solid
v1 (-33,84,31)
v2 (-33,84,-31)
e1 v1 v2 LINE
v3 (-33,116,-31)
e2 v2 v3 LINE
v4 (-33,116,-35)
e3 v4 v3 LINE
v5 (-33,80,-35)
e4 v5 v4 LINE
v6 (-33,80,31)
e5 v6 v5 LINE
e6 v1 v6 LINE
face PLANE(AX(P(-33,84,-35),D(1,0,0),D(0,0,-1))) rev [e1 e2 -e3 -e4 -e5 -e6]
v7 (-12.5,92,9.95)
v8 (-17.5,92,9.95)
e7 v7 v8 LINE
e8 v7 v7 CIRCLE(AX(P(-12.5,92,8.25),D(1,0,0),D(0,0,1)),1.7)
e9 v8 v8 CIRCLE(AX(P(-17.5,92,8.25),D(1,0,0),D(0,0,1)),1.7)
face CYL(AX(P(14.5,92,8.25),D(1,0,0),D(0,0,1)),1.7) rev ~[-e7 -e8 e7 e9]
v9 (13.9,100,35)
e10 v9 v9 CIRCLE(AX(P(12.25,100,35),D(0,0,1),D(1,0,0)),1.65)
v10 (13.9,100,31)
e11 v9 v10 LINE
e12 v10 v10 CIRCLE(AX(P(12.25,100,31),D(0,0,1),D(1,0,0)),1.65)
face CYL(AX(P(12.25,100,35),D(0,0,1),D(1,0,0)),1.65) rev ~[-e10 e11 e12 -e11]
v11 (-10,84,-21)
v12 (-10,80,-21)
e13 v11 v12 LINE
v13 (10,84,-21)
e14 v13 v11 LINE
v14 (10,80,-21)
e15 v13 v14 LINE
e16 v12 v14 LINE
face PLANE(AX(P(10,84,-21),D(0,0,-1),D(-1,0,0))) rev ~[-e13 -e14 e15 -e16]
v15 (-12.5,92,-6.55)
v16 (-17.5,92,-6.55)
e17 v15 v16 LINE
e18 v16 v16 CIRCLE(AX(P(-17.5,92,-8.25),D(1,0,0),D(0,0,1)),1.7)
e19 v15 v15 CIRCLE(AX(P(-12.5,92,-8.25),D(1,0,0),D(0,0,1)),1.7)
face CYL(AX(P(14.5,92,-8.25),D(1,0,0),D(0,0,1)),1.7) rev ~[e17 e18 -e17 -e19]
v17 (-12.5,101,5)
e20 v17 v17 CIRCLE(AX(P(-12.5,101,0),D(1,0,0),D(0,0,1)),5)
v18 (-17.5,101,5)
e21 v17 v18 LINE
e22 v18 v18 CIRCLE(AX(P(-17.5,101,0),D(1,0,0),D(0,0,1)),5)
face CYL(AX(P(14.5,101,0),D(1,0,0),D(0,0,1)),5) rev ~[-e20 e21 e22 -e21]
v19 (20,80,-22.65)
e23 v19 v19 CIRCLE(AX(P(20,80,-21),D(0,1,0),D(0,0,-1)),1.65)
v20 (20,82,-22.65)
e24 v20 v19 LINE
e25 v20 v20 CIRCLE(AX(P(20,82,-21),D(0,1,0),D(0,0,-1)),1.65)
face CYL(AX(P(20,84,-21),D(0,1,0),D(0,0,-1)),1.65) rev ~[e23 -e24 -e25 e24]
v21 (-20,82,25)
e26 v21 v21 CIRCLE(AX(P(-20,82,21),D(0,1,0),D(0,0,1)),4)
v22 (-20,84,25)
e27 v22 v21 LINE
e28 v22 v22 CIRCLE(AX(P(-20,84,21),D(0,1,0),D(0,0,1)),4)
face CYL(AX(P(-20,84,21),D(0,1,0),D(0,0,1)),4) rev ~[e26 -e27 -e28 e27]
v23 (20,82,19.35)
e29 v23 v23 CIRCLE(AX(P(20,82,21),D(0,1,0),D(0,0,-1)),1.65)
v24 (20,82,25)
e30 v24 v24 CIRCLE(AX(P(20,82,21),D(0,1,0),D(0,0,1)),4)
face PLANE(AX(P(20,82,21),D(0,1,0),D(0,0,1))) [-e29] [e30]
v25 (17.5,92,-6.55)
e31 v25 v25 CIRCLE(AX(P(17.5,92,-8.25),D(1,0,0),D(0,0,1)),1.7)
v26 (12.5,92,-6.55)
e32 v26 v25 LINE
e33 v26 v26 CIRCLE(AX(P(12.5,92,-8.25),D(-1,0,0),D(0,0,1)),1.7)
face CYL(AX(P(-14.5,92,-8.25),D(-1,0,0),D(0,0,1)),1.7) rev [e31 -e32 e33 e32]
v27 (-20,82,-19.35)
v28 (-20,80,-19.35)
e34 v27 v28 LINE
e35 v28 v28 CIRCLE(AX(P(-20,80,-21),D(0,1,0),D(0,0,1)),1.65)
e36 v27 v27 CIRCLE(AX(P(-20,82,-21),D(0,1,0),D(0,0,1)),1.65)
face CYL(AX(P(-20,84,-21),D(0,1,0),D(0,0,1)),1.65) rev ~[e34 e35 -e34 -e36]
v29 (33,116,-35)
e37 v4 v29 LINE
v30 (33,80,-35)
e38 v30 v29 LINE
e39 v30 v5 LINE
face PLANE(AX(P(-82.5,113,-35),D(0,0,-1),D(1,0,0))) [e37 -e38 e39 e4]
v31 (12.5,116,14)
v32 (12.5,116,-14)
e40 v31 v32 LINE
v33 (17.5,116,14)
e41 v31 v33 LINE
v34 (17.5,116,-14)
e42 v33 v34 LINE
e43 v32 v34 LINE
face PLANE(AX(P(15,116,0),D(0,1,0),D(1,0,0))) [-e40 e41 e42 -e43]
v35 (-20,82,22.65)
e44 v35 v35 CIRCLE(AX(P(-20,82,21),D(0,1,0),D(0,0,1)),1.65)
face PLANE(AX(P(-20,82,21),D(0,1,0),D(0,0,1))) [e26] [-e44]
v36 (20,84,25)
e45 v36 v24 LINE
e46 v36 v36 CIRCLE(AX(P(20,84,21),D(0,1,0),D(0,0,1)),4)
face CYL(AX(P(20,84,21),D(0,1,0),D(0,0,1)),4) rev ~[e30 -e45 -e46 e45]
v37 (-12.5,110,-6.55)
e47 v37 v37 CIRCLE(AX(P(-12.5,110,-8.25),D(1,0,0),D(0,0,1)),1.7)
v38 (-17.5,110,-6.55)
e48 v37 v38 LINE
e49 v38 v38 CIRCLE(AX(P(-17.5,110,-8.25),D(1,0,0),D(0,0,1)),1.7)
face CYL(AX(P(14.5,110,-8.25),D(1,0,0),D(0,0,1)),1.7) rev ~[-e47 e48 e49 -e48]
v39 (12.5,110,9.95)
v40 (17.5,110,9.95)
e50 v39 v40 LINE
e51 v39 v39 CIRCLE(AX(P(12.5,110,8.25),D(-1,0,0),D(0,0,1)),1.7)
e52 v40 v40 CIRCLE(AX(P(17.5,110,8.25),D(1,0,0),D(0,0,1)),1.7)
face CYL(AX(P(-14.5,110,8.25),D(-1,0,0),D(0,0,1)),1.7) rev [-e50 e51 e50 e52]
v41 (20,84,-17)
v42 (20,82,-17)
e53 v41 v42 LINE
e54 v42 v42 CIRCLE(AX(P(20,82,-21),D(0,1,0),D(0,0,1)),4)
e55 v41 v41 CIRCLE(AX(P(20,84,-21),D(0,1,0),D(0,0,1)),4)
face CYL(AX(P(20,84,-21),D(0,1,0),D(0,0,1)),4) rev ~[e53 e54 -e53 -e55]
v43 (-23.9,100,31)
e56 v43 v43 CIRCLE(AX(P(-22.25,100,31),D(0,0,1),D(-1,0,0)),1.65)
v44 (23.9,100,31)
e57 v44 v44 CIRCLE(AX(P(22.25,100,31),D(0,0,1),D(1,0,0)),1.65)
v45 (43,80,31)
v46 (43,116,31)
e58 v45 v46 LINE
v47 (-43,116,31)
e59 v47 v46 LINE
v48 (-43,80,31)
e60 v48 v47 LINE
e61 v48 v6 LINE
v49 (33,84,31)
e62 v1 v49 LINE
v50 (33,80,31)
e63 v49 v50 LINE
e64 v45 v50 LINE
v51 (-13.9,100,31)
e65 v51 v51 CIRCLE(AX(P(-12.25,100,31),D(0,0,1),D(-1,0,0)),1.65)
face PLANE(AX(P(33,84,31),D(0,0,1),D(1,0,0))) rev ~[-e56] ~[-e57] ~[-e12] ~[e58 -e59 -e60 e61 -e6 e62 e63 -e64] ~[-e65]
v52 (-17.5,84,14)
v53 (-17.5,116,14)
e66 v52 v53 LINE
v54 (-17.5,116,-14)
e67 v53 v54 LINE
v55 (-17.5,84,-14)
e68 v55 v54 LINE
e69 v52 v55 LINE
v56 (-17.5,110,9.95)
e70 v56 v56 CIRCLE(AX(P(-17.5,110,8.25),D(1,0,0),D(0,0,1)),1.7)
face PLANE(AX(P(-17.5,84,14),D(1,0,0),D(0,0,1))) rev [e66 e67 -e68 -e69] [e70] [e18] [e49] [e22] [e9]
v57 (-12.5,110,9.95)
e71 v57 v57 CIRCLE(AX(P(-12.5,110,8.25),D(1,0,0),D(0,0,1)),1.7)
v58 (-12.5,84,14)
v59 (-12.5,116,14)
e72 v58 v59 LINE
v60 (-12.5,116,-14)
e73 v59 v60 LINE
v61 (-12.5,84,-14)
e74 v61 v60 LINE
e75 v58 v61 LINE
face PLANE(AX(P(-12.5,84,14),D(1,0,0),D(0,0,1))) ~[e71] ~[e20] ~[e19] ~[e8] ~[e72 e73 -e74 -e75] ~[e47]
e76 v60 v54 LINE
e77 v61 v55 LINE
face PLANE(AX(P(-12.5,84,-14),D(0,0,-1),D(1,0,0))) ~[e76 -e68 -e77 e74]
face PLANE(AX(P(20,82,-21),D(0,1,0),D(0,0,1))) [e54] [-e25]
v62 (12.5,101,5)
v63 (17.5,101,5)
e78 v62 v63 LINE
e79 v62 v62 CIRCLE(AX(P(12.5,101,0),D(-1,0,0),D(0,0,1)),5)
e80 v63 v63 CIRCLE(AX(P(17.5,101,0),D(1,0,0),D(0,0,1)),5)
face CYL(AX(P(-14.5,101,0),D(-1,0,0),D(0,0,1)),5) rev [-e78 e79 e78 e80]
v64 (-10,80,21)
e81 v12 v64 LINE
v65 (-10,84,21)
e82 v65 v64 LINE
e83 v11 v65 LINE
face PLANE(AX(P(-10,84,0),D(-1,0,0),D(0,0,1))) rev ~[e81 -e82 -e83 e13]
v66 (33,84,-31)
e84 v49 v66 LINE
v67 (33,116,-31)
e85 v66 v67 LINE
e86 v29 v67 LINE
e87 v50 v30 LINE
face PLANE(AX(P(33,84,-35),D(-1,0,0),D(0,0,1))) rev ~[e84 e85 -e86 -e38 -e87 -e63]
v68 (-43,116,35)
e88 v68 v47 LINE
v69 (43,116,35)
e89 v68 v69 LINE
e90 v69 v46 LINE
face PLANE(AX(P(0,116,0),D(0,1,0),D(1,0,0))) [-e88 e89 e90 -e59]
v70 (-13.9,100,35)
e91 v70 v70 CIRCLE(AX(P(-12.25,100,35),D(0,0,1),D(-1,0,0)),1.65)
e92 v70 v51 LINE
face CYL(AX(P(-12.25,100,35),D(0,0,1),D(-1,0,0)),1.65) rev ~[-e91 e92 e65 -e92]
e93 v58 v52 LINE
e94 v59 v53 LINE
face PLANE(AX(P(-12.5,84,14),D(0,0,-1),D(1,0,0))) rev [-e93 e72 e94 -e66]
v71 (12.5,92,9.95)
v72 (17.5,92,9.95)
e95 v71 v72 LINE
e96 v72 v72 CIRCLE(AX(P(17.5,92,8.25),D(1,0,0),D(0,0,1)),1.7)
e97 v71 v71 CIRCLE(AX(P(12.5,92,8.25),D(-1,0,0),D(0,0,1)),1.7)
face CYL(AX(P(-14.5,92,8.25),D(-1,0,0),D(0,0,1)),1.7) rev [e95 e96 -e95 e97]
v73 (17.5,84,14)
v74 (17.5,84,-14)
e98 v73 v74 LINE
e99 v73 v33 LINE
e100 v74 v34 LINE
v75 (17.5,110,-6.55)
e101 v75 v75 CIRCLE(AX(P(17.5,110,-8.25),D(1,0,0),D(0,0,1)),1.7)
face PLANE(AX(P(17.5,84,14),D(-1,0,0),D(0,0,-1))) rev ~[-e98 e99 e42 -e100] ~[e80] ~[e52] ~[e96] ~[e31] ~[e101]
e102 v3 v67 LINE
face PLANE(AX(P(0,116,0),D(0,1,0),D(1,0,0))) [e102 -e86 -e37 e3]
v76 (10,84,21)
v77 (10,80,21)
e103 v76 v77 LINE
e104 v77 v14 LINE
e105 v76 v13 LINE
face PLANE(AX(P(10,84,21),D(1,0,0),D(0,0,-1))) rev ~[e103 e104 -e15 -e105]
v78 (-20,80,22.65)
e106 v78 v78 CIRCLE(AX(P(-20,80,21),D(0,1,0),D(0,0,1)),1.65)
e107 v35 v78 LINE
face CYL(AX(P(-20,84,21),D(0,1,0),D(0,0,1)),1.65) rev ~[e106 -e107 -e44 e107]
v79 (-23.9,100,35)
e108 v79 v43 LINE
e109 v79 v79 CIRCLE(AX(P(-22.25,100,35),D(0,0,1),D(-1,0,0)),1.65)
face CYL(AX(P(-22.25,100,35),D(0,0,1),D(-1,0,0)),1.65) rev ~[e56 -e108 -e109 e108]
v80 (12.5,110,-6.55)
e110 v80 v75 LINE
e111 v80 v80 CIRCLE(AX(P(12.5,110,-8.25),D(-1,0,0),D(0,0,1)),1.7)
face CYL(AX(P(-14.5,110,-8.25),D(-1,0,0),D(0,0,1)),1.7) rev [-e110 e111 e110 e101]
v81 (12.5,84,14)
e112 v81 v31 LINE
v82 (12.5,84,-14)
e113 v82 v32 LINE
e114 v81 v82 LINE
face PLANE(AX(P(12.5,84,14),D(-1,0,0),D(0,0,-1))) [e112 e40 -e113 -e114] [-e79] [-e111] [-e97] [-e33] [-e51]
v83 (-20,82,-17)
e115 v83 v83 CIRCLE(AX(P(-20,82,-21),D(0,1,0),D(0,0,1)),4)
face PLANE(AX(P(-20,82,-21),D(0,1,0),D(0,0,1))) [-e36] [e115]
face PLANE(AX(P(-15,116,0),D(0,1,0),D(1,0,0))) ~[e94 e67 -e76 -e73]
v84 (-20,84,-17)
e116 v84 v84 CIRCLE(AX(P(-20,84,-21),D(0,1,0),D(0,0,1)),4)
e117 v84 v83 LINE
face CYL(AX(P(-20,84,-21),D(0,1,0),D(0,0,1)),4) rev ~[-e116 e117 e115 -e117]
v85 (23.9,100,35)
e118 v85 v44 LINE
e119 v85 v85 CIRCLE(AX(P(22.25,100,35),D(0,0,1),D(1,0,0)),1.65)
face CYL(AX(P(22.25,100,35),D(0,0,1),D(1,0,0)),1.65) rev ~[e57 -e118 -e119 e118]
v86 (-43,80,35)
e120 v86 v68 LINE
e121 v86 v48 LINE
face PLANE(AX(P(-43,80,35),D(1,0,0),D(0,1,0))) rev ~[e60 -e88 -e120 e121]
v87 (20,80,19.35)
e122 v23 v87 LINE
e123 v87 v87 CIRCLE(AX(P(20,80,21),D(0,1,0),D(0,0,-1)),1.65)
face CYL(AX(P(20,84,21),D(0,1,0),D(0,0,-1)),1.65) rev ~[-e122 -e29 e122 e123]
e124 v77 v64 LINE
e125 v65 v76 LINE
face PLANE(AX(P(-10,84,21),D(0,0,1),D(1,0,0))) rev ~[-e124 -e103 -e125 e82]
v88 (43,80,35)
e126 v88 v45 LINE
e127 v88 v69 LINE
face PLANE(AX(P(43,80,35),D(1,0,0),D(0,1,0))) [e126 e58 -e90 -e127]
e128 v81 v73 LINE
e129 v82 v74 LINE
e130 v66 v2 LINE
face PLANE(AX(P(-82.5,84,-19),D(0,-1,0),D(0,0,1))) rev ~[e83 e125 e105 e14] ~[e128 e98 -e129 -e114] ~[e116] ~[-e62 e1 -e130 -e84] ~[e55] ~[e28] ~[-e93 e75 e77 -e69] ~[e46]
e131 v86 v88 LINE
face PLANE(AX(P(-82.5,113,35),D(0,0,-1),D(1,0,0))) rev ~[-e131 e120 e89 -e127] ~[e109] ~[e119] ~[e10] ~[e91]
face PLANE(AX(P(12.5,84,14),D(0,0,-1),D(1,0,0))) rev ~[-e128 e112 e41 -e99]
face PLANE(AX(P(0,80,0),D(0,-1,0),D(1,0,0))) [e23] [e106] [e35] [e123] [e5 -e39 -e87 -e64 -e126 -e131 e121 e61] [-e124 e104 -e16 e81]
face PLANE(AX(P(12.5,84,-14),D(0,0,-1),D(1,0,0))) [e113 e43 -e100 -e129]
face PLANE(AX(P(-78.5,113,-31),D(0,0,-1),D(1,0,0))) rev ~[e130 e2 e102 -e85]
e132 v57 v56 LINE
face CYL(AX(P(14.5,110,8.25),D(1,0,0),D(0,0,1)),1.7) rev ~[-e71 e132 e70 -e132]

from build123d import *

# Parameters (mm, degrees)
SKETCH1_W                 = 75
SKETCH1_H                 = 40
SKETCH1_R                 = 5
SKETCH1_R_2               = 1.7
SKETCH1_W_2               = 10
SKETCH1_H_2               = 20
BOSS_EXTRUDE1_DEPTH       = 3
CUT_EXTRUDE1_DEPTH        = 43.605750786
CUT_EXTRUDE1_DEPTH_BACK   = 43.605750786
SKETCH2_W                 = 67
SKETCH2_H                 = 28
BOSS_EXTRUDE3_DEPTH       = 110
BOSS_EXTRUDE3_DEPTH_BACK  = 3
SKETCH6_W                 = 67
SKETCH6_H                 = 11
CUT_EXTRUDE4_DEPTH        = 122.372360939
SKETCH7_W                 = 70
SKETCH7_H                 = 37
BOSS_EXTRUDE4_DEPTH       = 45
SKETCH8_W                 = 45
SKETCH8_H                 = 62
CUT_EXTRUDE6_DEPTH        = 29
SKETCH11_W                = 45
SKETCH11_H                = 4
CUT_EXTRUDE9_DEPTH        = 157.445677473
SKETCH9_W                 = 38
SKETCH9_H                 = 28.5
CUT_EXTRUDE10_DEPTH       = 204.024629048
SKETCH13_W                = 5
SKETCH13_H                = 38
BOSS_EXTRUDE5_DEPTH       = 32
SKETCH14_R                = 5
SKETCH14_R_2              = 1.7
CUT_EXTRUDE11_DEPTH       = 32
SKETCH15_W                = 165
SKETCH15_H                = 70
SKETCH15_W_2              = 157
SKETCH15_H_2              = 62
BOSS_EXTRUDE6_DEPTH       = 3
SKETCH16_W                = 20
SKETCH16_H                = 4.820648258
CUT_EXTRUDE12_DEPTH       = 159.626132778
SKETCH18_R                = 1.65
CUT_EXTRUDE14_DEPTH       = 159.626132778
MIRROR6_COPY_1_SKETCH_W   = 5
MIRROR6_COPY_1_SKETCH_H   = 38
MIRROR6_COPY_1_DEPTH      = 32
MIRROR6_COPY_2_SKETCH_R   = 5
MIRROR6_COPY_2_SKETCH_R_2 = 1.7
MIRROR6_COPY_2_DEPTH      = 32
SKETCH19_W                = 38
SKETCH19_H                = 3.5
CUT_EXTRUDE15_DEPTH       = 10
SKETCH20_R                = 1.2
CUT_EXTRUDE16_DEPTH       = 10
SKETCH21_W                = 10
SKETCH21_H                = 80
CUT_EXTRUDE17_DEPTH       = 184.330984833
SKETCH22_W                = 55
SKETCH22_H                = 80
CUT_EXTRUDE18_DEPTH       = 184.330984833
SKETCH23_W                = 67
SKETCH23_H                = 62
BOSS_EXTRUDE7_DEPTH       = 4
SKETCH24_R                = 10
SKETCH24_R_2              = 1.65
CUT_EXTRUDE19_DEPTH       = 111.123793978
CUT_EXTRUDE21_START       = -16
SKETCH25_R                = 1.65
CUT_EXTRUDE21_DEPTH       = 16
SKETCH26_W                = 14.5
SKETCH26_H                = 36
CUT_EXTRUDE22_DEPTH       = 178.837706913
SKETCH27_W                = 5
SKETCH27_H                = 64
CUT_EXTRUDE23_DEPTH       = 43
CUT_EXTRUDE24_DEPTH       = 100.724620832
SKETCH29_R                = 4
SKETCH29_R_2              = 1.65
CUT_EXTRUDE25_DEPTH       = 2
SKETCH30_W                = 5
SKETCH30_H                = 28
BOSS_EXTRUDE8_DEPTH       = 32
CUT_EXTRUDE26_START       = -32
SKETCH32_R                = 5
SKETCH32_R_2              = 1.7
CUT_EXTRUDE26_DEPTH       = 32
CUT_EXTRUDE27_DEPTH       = 32
SKETCH36_R                = 1.65
CUT_EXTRUDE28_DEPTH       = 10
SKETCH37_W                = 6.586786374
SKETCH37_H                = 6.17536381
BOSS_EXTRUDE9_DEPTH       = 4
SKETCH38_W                = 25
SKETCH38_H                = 36
CUT_EXTRUDE29_DEPTH       = 10


with BuildPart() as part:
    # Sketch1 → Boss-Extrude1 (new body)
    with BuildSketch(Plane(origin=(0, 0, 0), x_dir=(1, 0, 0), z_dir=(0, 1, 0))):
        Rectangle(SKETCH1_W, SKETCH1_H)
        with Locations(Location((-21, 0, 0), (0, 0, 270))):
            Circle(SKETCH1_R, mode=Mode.SUBTRACT)
        with Locations(Location((-30, 8.25, 0), (0, 0, 270))):
            Circle(SKETCH1_R_2, mode=Mode.SUBTRACT)
        with Locations(Location((-12, 8.25, 0), (0, 0, 270))):
            Circle(SKETCH1_R_2, mode=Mode.SUBTRACT)
        with Locations(Location((-12, -8.25, 0), (0, 0, 270))):
            Circle(SKETCH1_R_2, mode=Mode.SUBTRACT)
        with Locations(Location((-30, -8.25, 0), (0, 0, 270))):
            Circle(SKETCH1_R_2, mode=Mode.SUBTRACT)
        with Locations(Location((12, 8.25, 0), (0, 0, 90))):
            Circle(SKETCH1_R_2, mode=Mode.SUBTRACT)
        with Locations(Location((12, -8.25, 0), (0, 0, 90))):
            Circle(SKETCH1_R_2, mode=Mode.SUBTRACT)
        with Locations(Location((21, 0, 0), (0, 0, 90))):
            Circle(SKETCH1_R, mode=Mode.SUBTRACT)
        with Locations(Location((30, -8.25, 0), (0, 0, 90))):
            Circle(SKETCH1_R_2, mode=Mode.SUBTRACT)
        with Locations(Location((30, 8.25, 0), (0, 0, 90))):
            Circle(SKETCH1_R_2, mode=Mode.SUBTRACT)
        Rectangle(SKETCH1_W_2, SKETCH1_H_2, mode=Mode.SUBTRACT)
    extrude(amount=BOSS_EXTRUDE1_DEPTH)

    # Sketch2 → Cut-Extrude1 (cut, two sides: drawn at the far end of the back side and taken through both)
    with BuildSketch(Plane(origin=(0, 3, 0), x_dir=(1, 0, 0), z_dir=(0, 1, 0)).offset(-CUT_EXTRUDE1_DEPTH_BACK)):
        Rectangle(SKETCH2_W, SKETCH2_H)
    extrude(amount=CUT_EXTRUDE1_DEPTH + CUT_EXTRUDE1_DEPTH_BACK, mode=Mode.SUBTRACT)

    # Sketch3 → Boss-Extrude3 (add, two sides: drawn at the far end of the back side and taken through both)
    with BuildSketch(Plane(origin=(0, 3, 0), x_dir=(1, 0, 0), z_dir=(0, 1, 0)).offset(-BOSS_EXTRUDE3_DEPTH_BACK)):
        Polygon((37.5, -35), (37.5, -20), (33.5, -20), (-33.5, -20), (-37.5, -20), (-37.5, -35), align=None)
        Polygon((33.5, 20), (37.5, 20), (37.5, 35), (-37.5, 35), (-37.5, 20), (-33.5, 20), align=None)
        Polygon((37.5, -20), (37.5, 20), (33.5, 20), (33.5, 14), (33.5, -14), (33.5, -20), align=None)
        Polygon((-33.5, 14), (-33.5, 20), (-37.5, 20), (-37.5, -20), (-33.5, -20), (-33.5, -14), align=None)
    extrude(amount=BOSS_EXTRUDE3_DEPTH + BOSS_EXTRUDE3_DEPTH_BACK)

    # Sketch6 → Cut-Extrude4 (cut, through all)
    with BuildSketch(Plane(origin=(0, 3, 0), x_dir=(1, 0, 0), z_dir=(0, 1, 0))):
        with Locations((0, -25.5)):
            Rectangle(SKETCH6_W, SKETCH6_H)
        with Locations((0, 25.5)):
            Rectangle(SKETCH6_W, SKETCH6_H)
    extrude(amount=CUT_EXTRUDE4_DEPTH, mode=Mode.SUBTRACT)

    # Sketch7 → Boss-Extrude4 (add)
    with BuildSketch(Plane.ZY.offset(37.5)):
        with Locations((0, 94.5)):
            Rectangle(SKETCH7_W, SKETCH7_H)
    boss_extrude4 = extrude(amount=BOSS_EXTRUDE4_DEPTH)

    # Mirror2: Boss-Extrude4 across plane
    add(boss_extrude4.mirror(Plane(origin=(0, 0, 0), x_dir=(0, 0, 1), z_dir=(1, 0, 0))))

    # Sketch8 → Cut-Extrude6 (cut)
    with BuildSketch(Plane(origin=(0, 113, 0), x_dir=(1, 0, 0), z_dir=(0, 1, 0))):
        with Locations((-56, 0)):
            Rectangle(SKETCH8_W, SKETCH8_H)
        with Locations((56, 0)):
            Rectangle(SKETCH8_W, SKETCH8_H)
    extrude(amount=-CUT_EXTRUDE6_DEPTH, mode=Mode.SUBTRACT)

    # Sketch11 → Cut-Extrude9 (cut, through all)
    with BuildSketch(Plane.XY.offset(35)):
        with Locations((-60, 78)):
            Rectangle(SKETCH11_W, SKETCH11_H)
        with Locations((60, 78)):
            Rectangle(SKETCH11_W, SKETCH11_H)
    extrude(amount=-CUT_EXTRUDE9_DEPTH, mode=Mode.SUBTRACT)

    # Sketch9 → Cut-Extrude10 (cut, through all)
    with BuildSketch(Plane.ZY.offset(82.5)):
        with Locations((0, 98.25)):
            Rectangle(SKETCH9_W, SKETCH9_H)
    extrude(amount=-CUT_EXTRUDE10_DEPTH, mode=Mode.SUBTRACT)

    # Sketch13 → Boss-Extrude5 (add)
    with BuildSketch(Plane(origin=(0, 84, 0), x_dir=(1, 0, 0), z_dir=(0, 1, 0))):
        with Locations((-39, 0)):
            Rectangle(SKETCH13_W, SKETCH13_H)
    boss_extrude5 = extrude(amount=BOSS_EXTRUDE5_DEPTH)

    # Sketch14 → Cut-Extrude11 (cut)
    with BuildSketch(Plane.ZY.offset(41.5)):
        with Locations((0, 101)):
            Circle(SKETCH14_R)
        with Locations((-8.25, 110)):
            Circle(SKETCH14_R_2)
        with Locations((8.25, 110)):
            Circle(SKETCH14_R_2)
        with Locations((8.25, 92)):
            Circle(SKETCH14_R_2)
        with Locations((-8.25, 92)):
            Circle(SKETCH14_R_2)
    cut_extrude11 = extrude(amount=-CUT_EXTRUDE11_DEPTH, mode=Mode.SUBTRACT)

    # Mirror4: Boss-Extrude5, Cut-Extrude11 across plane
    add(boss_extrude5.mirror(Plane(origin=(0, 0, 0), x_dir=(0, 0, 1), z_dir=(1, 0, 0))))
    add(cut_extrude11.mirror(Plane(origin=(0, 0, 0), x_dir=(0, 0, 1), z_dir=(1, 0, 0))), mode=Mode.SUBTRACT)

    # Sketch15 → Boss-Extrude6 (add)
    with BuildSketch(Plane(origin=(0, 113, 0), x_dir=(1, 0, 0), z_dir=(0, 1, 0))):
        Rectangle(SKETCH15_W, SKETCH15_H)
        Rectangle(SKETCH15_W_2, SKETCH15_H_2, mode=Mode.SUBTRACT)
    extrude(amount=BOSS_EXTRUDE6_DEPTH)

    # Sketch16 → Cut-Extrude12 (cut, through all)
    with BuildSketch(Plane.XY.offset(35)):
        with Locations((0, 11.636111214)):
            Rectangle(SKETCH16_W, SKETCH16_H)
    extrude(amount=-CUT_EXTRUDE12_DEPTH, mode=Mode.SUBTRACT)

    # Sketch18 → Cut-Extrude14 (cut, through all)
    with BuildSketch(Plane.XY.offset(35)):
        with Locations((52.25, 100)):
            Circle(SKETCH18_R)
    cut_extrude14 = extrude(amount=-CUT_EXTRUDE14_DEPTH, mode=Mode.SUBTRACT)

    # Mirror5: Cut-Extrude14 across plane
    add(cut_extrude14.mirror(Plane(origin=(0, 0, 0), x_dir=(0, 0, 1), z_dir=(1, 0, 0))), mode=Mode.SUBTRACT)

    # Mirror6: Boss-Extrude5, Cut-Extrude11 across plane
    add(boss_extrude5.mirror(Plane.ZX.offset(116)))
    add(cut_extrude11.mirror(Plane.ZX.offset(116)), mode=Mode.SUBTRACT)

    # Mirror6 copy 1 sketch → Mirror6 copy 1 (add)
    with BuildSketch(Plane(origin=(0, 148, 0), x_dir=(-1, 0, 0), z_dir=(0, -1, 0))):
        with Locations((-39, 0)):
            Rectangle(MIRROR6_COPY_1_SKETCH_W, MIRROR6_COPY_1_SKETCH_H)
    extrude(amount=MIRROR6_COPY_1_DEPTH)

    # Mirror6 copy 2 sketch → Mirror6 copy 2 (cut)
    with BuildSketch(Plane(origin=(41.5, 232, 0), x_dir=(0, 0, 1), z_dir=(1, 0, 0))):
        with Locations((0, 101)):
            Circle(MIRROR6_COPY_2_SKETCH_R)
        with Locations((-8.25, 110)):
            Circle(MIRROR6_COPY_2_SKETCH_R_2)
        with Locations((8.25, 110)):
            Circle(MIRROR6_COPY_2_SKETCH_R_2)
        with Locations((8.25, 92)):
            Circle(MIRROR6_COPY_2_SKETCH_R_2)
        with Locations((-8.25, 92)):
            Circle(MIRROR6_COPY_2_SKETCH_R_2)
    extrude(amount=-MIRROR6_COPY_2_DEPTH, mode=Mode.SUBTRACT)

    # Sketch19 → Cut-Extrude15 (cut)
    with BuildSketch(Plane(origin=(82.5, 0, 0), x_dir=(0, 0, -1), z_dir=(1, 0, 0))):
        with Locations((0, 114.25)):
            Rectangle(SKETCH19_W, SKETCH19_H)
    cut_extrude15 = extrude(amount=-CUT_EXTRUDE15_DEPTH, mode=Mode.SUBTRACT)

    # Mirror7: Cut-Extrude15 across plane
    add(cut_extrude15.mirror(Plane(origin=(0, 0, 0), x_dir=(0, 0, 1), z_dir=(1, 0, 0))), mode=Mode.SUBTRACT)

    # Sketch20 → Cut-Extrude16 (cut)
    with BuildSketch(Plane(origin=(0, 3, 0), x_dir=(1, 0, 0), z_dir=(0, 1, 0))):
        with Locations(Location((-24, 17.5, 0), (0, 0, 270))):
            Circle(SKETCH20_R)
        with Locations(Location((-12, 17.5, 0), (0, 0, 270))):
            Circle(SKETCH20_R)
        with Locations(Location((12, 17.5, 0), (0, 0, 270))):
            Circle(SKETCH20_R)
        with Locations(Location((-24, -17.5, 0), (0, 0, 270))):
            Circle(SKETCH20_R)
        with Locations(Location((-12, -17.5, 0), (0, 0, 270))):
            Circle(SKETCH20_R)
        with Locations(Location((24, 17.5, 0), (0, 0, 270))):
            Circle(SKETCH20_R)
        with Locations(Location((12, -17.5, 0), (0, 0, 270))):
            Circle(SKETCH20_R)
        with Locations(Location((24, -17.5, 0), (0, 0, 270))):
            Circle(SKETCH20_R)
    extrude(amount=-CUT_EXTRUDE16_DEPTH, mode=Mode.SUBTRACT)

    # Sketch21 → Cut-Extrude17 (cut, through all)
    with BuildSketch(Plane.XY.offset(35)):
        with Locations((32.5, 40)):
            Rectangle(SKETCH21_W, SKETCH21_H)
        with Locations((-32.5, 40)):
            Rectangle(SKETCH21_W, SKETCH21_H)
    extrude(amount=-CUT_EXTRUDE17_DEPTH, mode=Mode.SUBTRACT)

    # Sketch22 → Cut-Extrude18 (cut, through all)
    with BuildSketch(Plane.XY.offset(35)):
        with Locations((0, 40)):
            Rectangle(SKETCH22_W, SKETCH22_H)
    extrude(amount=-CUT_EXTRUDE18_DEPTH, mode=Mode.SUBTRACT)

    # Sketch23 → Boss-Extrude7 (add)
    with BuildSketch(Plane.XZ.offset(-80)):
        Rectangle(SKETCH23_W, SKETCH23_H)
    extrude(amount=-BOSS_EXTRUDE7_DEPTH)

    # Sketch24 → Cut-Extrude19 (cut, through all)
    with BuildSketch(Plane(origin=(0, 84, 0), x_dir=(1, 0, 0), z_dir=(0, 1, 0))):
        with Locations(Location((0, 0, 0), (0, 0, 270))):
            Circle(SKETCH24_R)
        with Locations(Location((-20, 21, 0), (0, 0, 270))):
            Circle(SKETCH24_R_2)
        with Locations(Location((-20, -21, 0), (0, 0, 270))):
            Circle(SKETCH24_R_2)
        with Locations(Location((20, -21, 0), (0, 0, 90))):
            Circle(SKETCH24_R_2)
        with Locations(Location((20, 21, 0), (0, 0, 90))):
            Circle(SKETCH24_R_2)
    extrude(amount=-CUT_EXTRUDE19_DEPTH, mode=Mode.SUBTRACT)

    # Sketch25 → Cut-Extrude21 (cut)
    with BuildSketch(Plane(origin=(0, 0, -35), x_dir=(-1, 0, 0), z_dir=(0, 0, -1)).offset(CUT_EXTRUDE21_START)):
        Polygon((33.5, 116), (33.5, 84), (33.5, 80), (82.5, 80), (82.5, 116), align=None)
        with Locations((52.25, 100)):
            Circle(SKETCH25_R, mode=Mode.SUBTRACT)
    cut_extrude21 = extrude(amount=CUT_EXTRUDE21_DEPTH, mode=Mode.SUBTRACT)

    # Mirror8: Cut-Extrude21 across plane
    add(cut_extrude21.mirror(Plane(origin=(0, 0, 0), x_dir=(0, 0, 1), z_dir=(1, 0, 0))), mode=Mode.SUBTRACT)

    # Sketch26 → Cut-Extrude22 (cut, through all)
    with BuildSketch(Plane(origin=(0, 0, -19), x_dir=(-1, 0, 0), z_dir=(0, 0, -1))):
        with Locations((75.25, 98)):
            Rectangle(SKETCH26_W, SKETCH26_H)
    cut_extrude22 = extrude(amount=-CUT_EXTRUDE22_DEPTH, mode=Mode.SUBTRACT)

    # Mirror9: Cut-Extrude22 across plane
    add(cut_extrude22.mirror(Plane(origin=(0, 0, 0), x_dir=(0, 0, 1), z_dir=(1, 0, 0))), mode=Mode.SUBTRACT)

    # Sketch27 → Cut-Extrude23 (cut)
    with BuildSketch(Plane(origin=(0, 0, -19), x_dir=(-1, 0, 0), z_dir=(0, 0, -1))):
        with Locations((-39, 116)):
            Rectangle(SKETCH27_W, SKETCH27_H)
    extrude(amount=-CUT_EXTRUDE23_DEPTH, mode=Mode.SUBTRACT)

    # Sketch28 → Cut-Extrude24 (cut, symmetric)
    with BuildSketch(Plane(origin=(0, 84, 0), x_dir=(1, 0, 0), z_dir=(0, 1, 0))):
        Polygon((68, 19), (33.5, 19), (33.5, 35), (33, 35), (33, 19), (33, -31), (68, -31), align=None)
    cut_extrude24 = extrude(amount=CUT_EXTRUDE24_DEPTH, both=True, mode=Mode.SUBTRACT)

    # Sketch29 → Cut-Extrude25 (cut)
    # profile 1 of 4: a face of its own
    with BuildSketch(Plane(origin=(0, 84, 0), x_dir=(1, 0, 0), z_dir=(0, 1, 0))):
        with Locations(Location((20, 21, 0), (0, 0, 270))):
            Circle(SKETCH29_R)
        with Locations(Location((20, 21, 0), (0, 0, 270))):
            Circle(SKETCH29_R_2, mode=Mode.SUBTRACT)
    # profile 2 of 4: a face of its own
    with BuildSketch(Plane(origin=(0, 84, 0), x_dir=(1, 0, 0), z_dir=(0, 1, 0))):
        with Locations(Location((-20, 21, 0), (0, 0, 270))):
            Circle(SKETCH29_R)
        with Locations(Location((-20, 21, 0), (0, 0, 270))):
            Circle(SKETCH29_R_2, mode=Mode.SUBTRACT)
    # profile 3 of 4: a face of its own
    with BuildSketch(Plane(origin=(0, 84, 0), x_dir=(1, 0, 0), z_dir=(0, 1, 0))):
        with Locations(Location((-20, -21, 0), (0, 0, 270))):
            Circle(SKETCH29_R)
        with Locations(Location((-20, -21, 0), (0, 0, 270))):
            Circle(SKETCH29_R_2, mode=Mode.SUBTRACT)
    # profile 4 of 4: a face of its own
    with BuildSketch(Plane(origin=(0, 84, 0), x_dir=(1, 0, 0), z_dir=(0, 1, 0))):
        with Locations(Location((20, -21, 0), (0, 0, 270))):
            Circle(SKETCH29_R)
        with Locations(Location((20, -21, 0), (0, 0, 270))):
            Circle(SKETCH29_R_2, mode=Mode.SUBTRACT)
    extrude(amount=-CUT_EXTRUDE25_DEPTH, mode=Mode.SUBTRACT)

    # Sketch30 → Boss-Extrude8 (add)
    with BuildSketch(Plane(origin=(0, 84, 0), x_dir=(1, 0, 0), z_dir=(0, 1, 0))):
        with Locations((15, 0)):
            Rectangle(SKETCH30_W, SKETCH30_H)
    boss_extrude8 = extrude(amount=BOSS_EXTRUDE8_DEPTH)

    # Sketch32 → Cut-Extrude26 (cut)
    with BuildSketch(Plane(origin=(17.5, 0, 0), x_dir=(0, 0, -1), z_dir=(1, 0, 0)).offset(CUT_EXTRUDE26_START)):
        with Locations(Location((0, 101, 0), (0, 0, 180))):
            Circle(SKETCH32_R)
        with Locations(Location((8.25, 110, 0), (0, 0, 180))):
            Circle(SKETCH32_R_2)
        with Locations(Location((-8.25, 110, 0), (0, 0, 180))):
            Circle(SKETCH32_R_2)
        with Locations(Location((-8.25, 92, 0), (0, 0, 180))):
            Circle(SKETCH32_R_2)
        with Locations(Location((8.25, 92, 0), (0, 0, 180))):
            Circle(SKETCH32_R_2)
    cut_extrude26 = extrude(amount=CUT_EXTRUDE26_DEPTH, mode=Mode.SUBTRACT)

    # Mirror11: Cut-Extrude24 across plane
    add(cut_extrude24.mirror(Plane(origin=(0, 0, 0), x_dir=(0, 0, 1), z_dir=(1, 0, 0))), mode=Mode.SUBTRACT)

    # Mirror16: Boss-Extrude8 across plane
    add(boss_extrude8.mirror(Plane(origin=(0, 0, 0), x_dir=(0, 0, 1), z_dir=(1, 0, 0))))

    # Mirror18: Cut-Extrude26 across plane
    add(cut_extrude26.mirror(Plane(origin=(0, 0, 0), x_dir=(0, 0, 1), z_dir=(1, 0, 0))), mode=Mode.SUBTRACT)

    # Sketch34 → Cut-Extrude27 (cut)
    with BuildSketch(Plane(origin=(0, 84, 0), x_dir=(1, 0, 0), z_dir=(0, 1, 0))):
        with BuildLine():
            Line((-10, 21), (-10, 0))
            ThreePointArc((-10, 0), (0, 10), (10, 0))
            Line((10, 0), (10, 21))
            Line((10, 21), (-10, 21))
        make_face()
        with BuildLine():
            ThreePointArc((10, 0), (0, -10), (-10, 0))
            Line((-10, 0), (-10, -21))
            Line((-10, -21), (10, -21))
            Line((10, -21), (10, 0))
        make_face()
    extrude(amount=-CUT_EXTRUDE27_DEPTH, mode=Mode.SUBTRACT)

    # Sketch36 → Cut-Extrude28 (cut)
    with BuildSketch(Plane.XY.offset(35)):
        with Locations((22.25, 100)):
            Circle(SKETCH36_R)
        with Locations((12.25, 100)):
            Circle(SKETCH36_R)
        with Locations(Location((-12.25, 100, 0), (0, 0, 180))):
            Circle(SKETCH36_R)
        with Locations(Location((-22.25, 100, 0), (0, 0, 180))):
            Circle(SKETCH36_R)
    extrude(amount=-CUT_EXTRUDE28_DEPTH, mode=Mode.SUBTRACT)

    # Sketch37 → Boss-Extrude9 (add)
    with BuildSketch(Plane.XY.offset(35)):
        with Locations((52.25, 100)):
            Rectangle(SKETCH37_W, SKETCH37_H)
        with Locations((-52.25, 100)):
            Rectangle(SKETCH37_W, SKETCH37_H)
    extrude(amount=-BOSS_EXTRUDE9_DEPTH)

    # Sketch38 → Cut-Extrude29 (cut)
    with BuildSketch(Plane.XY.offset(35)):
        with Locations((-55.5, 98)):
            Rectangle(SKETCH38_W, SKETCH38_H)
        with Locations((55.5, 98)):
            Rectangle(SKETCH38_W, SKETCH38_H)
    extrude(amount=-CUT_EXTRUDE29_DEPTH, mode=Mode.SUBTRACT)


solid = part.part
